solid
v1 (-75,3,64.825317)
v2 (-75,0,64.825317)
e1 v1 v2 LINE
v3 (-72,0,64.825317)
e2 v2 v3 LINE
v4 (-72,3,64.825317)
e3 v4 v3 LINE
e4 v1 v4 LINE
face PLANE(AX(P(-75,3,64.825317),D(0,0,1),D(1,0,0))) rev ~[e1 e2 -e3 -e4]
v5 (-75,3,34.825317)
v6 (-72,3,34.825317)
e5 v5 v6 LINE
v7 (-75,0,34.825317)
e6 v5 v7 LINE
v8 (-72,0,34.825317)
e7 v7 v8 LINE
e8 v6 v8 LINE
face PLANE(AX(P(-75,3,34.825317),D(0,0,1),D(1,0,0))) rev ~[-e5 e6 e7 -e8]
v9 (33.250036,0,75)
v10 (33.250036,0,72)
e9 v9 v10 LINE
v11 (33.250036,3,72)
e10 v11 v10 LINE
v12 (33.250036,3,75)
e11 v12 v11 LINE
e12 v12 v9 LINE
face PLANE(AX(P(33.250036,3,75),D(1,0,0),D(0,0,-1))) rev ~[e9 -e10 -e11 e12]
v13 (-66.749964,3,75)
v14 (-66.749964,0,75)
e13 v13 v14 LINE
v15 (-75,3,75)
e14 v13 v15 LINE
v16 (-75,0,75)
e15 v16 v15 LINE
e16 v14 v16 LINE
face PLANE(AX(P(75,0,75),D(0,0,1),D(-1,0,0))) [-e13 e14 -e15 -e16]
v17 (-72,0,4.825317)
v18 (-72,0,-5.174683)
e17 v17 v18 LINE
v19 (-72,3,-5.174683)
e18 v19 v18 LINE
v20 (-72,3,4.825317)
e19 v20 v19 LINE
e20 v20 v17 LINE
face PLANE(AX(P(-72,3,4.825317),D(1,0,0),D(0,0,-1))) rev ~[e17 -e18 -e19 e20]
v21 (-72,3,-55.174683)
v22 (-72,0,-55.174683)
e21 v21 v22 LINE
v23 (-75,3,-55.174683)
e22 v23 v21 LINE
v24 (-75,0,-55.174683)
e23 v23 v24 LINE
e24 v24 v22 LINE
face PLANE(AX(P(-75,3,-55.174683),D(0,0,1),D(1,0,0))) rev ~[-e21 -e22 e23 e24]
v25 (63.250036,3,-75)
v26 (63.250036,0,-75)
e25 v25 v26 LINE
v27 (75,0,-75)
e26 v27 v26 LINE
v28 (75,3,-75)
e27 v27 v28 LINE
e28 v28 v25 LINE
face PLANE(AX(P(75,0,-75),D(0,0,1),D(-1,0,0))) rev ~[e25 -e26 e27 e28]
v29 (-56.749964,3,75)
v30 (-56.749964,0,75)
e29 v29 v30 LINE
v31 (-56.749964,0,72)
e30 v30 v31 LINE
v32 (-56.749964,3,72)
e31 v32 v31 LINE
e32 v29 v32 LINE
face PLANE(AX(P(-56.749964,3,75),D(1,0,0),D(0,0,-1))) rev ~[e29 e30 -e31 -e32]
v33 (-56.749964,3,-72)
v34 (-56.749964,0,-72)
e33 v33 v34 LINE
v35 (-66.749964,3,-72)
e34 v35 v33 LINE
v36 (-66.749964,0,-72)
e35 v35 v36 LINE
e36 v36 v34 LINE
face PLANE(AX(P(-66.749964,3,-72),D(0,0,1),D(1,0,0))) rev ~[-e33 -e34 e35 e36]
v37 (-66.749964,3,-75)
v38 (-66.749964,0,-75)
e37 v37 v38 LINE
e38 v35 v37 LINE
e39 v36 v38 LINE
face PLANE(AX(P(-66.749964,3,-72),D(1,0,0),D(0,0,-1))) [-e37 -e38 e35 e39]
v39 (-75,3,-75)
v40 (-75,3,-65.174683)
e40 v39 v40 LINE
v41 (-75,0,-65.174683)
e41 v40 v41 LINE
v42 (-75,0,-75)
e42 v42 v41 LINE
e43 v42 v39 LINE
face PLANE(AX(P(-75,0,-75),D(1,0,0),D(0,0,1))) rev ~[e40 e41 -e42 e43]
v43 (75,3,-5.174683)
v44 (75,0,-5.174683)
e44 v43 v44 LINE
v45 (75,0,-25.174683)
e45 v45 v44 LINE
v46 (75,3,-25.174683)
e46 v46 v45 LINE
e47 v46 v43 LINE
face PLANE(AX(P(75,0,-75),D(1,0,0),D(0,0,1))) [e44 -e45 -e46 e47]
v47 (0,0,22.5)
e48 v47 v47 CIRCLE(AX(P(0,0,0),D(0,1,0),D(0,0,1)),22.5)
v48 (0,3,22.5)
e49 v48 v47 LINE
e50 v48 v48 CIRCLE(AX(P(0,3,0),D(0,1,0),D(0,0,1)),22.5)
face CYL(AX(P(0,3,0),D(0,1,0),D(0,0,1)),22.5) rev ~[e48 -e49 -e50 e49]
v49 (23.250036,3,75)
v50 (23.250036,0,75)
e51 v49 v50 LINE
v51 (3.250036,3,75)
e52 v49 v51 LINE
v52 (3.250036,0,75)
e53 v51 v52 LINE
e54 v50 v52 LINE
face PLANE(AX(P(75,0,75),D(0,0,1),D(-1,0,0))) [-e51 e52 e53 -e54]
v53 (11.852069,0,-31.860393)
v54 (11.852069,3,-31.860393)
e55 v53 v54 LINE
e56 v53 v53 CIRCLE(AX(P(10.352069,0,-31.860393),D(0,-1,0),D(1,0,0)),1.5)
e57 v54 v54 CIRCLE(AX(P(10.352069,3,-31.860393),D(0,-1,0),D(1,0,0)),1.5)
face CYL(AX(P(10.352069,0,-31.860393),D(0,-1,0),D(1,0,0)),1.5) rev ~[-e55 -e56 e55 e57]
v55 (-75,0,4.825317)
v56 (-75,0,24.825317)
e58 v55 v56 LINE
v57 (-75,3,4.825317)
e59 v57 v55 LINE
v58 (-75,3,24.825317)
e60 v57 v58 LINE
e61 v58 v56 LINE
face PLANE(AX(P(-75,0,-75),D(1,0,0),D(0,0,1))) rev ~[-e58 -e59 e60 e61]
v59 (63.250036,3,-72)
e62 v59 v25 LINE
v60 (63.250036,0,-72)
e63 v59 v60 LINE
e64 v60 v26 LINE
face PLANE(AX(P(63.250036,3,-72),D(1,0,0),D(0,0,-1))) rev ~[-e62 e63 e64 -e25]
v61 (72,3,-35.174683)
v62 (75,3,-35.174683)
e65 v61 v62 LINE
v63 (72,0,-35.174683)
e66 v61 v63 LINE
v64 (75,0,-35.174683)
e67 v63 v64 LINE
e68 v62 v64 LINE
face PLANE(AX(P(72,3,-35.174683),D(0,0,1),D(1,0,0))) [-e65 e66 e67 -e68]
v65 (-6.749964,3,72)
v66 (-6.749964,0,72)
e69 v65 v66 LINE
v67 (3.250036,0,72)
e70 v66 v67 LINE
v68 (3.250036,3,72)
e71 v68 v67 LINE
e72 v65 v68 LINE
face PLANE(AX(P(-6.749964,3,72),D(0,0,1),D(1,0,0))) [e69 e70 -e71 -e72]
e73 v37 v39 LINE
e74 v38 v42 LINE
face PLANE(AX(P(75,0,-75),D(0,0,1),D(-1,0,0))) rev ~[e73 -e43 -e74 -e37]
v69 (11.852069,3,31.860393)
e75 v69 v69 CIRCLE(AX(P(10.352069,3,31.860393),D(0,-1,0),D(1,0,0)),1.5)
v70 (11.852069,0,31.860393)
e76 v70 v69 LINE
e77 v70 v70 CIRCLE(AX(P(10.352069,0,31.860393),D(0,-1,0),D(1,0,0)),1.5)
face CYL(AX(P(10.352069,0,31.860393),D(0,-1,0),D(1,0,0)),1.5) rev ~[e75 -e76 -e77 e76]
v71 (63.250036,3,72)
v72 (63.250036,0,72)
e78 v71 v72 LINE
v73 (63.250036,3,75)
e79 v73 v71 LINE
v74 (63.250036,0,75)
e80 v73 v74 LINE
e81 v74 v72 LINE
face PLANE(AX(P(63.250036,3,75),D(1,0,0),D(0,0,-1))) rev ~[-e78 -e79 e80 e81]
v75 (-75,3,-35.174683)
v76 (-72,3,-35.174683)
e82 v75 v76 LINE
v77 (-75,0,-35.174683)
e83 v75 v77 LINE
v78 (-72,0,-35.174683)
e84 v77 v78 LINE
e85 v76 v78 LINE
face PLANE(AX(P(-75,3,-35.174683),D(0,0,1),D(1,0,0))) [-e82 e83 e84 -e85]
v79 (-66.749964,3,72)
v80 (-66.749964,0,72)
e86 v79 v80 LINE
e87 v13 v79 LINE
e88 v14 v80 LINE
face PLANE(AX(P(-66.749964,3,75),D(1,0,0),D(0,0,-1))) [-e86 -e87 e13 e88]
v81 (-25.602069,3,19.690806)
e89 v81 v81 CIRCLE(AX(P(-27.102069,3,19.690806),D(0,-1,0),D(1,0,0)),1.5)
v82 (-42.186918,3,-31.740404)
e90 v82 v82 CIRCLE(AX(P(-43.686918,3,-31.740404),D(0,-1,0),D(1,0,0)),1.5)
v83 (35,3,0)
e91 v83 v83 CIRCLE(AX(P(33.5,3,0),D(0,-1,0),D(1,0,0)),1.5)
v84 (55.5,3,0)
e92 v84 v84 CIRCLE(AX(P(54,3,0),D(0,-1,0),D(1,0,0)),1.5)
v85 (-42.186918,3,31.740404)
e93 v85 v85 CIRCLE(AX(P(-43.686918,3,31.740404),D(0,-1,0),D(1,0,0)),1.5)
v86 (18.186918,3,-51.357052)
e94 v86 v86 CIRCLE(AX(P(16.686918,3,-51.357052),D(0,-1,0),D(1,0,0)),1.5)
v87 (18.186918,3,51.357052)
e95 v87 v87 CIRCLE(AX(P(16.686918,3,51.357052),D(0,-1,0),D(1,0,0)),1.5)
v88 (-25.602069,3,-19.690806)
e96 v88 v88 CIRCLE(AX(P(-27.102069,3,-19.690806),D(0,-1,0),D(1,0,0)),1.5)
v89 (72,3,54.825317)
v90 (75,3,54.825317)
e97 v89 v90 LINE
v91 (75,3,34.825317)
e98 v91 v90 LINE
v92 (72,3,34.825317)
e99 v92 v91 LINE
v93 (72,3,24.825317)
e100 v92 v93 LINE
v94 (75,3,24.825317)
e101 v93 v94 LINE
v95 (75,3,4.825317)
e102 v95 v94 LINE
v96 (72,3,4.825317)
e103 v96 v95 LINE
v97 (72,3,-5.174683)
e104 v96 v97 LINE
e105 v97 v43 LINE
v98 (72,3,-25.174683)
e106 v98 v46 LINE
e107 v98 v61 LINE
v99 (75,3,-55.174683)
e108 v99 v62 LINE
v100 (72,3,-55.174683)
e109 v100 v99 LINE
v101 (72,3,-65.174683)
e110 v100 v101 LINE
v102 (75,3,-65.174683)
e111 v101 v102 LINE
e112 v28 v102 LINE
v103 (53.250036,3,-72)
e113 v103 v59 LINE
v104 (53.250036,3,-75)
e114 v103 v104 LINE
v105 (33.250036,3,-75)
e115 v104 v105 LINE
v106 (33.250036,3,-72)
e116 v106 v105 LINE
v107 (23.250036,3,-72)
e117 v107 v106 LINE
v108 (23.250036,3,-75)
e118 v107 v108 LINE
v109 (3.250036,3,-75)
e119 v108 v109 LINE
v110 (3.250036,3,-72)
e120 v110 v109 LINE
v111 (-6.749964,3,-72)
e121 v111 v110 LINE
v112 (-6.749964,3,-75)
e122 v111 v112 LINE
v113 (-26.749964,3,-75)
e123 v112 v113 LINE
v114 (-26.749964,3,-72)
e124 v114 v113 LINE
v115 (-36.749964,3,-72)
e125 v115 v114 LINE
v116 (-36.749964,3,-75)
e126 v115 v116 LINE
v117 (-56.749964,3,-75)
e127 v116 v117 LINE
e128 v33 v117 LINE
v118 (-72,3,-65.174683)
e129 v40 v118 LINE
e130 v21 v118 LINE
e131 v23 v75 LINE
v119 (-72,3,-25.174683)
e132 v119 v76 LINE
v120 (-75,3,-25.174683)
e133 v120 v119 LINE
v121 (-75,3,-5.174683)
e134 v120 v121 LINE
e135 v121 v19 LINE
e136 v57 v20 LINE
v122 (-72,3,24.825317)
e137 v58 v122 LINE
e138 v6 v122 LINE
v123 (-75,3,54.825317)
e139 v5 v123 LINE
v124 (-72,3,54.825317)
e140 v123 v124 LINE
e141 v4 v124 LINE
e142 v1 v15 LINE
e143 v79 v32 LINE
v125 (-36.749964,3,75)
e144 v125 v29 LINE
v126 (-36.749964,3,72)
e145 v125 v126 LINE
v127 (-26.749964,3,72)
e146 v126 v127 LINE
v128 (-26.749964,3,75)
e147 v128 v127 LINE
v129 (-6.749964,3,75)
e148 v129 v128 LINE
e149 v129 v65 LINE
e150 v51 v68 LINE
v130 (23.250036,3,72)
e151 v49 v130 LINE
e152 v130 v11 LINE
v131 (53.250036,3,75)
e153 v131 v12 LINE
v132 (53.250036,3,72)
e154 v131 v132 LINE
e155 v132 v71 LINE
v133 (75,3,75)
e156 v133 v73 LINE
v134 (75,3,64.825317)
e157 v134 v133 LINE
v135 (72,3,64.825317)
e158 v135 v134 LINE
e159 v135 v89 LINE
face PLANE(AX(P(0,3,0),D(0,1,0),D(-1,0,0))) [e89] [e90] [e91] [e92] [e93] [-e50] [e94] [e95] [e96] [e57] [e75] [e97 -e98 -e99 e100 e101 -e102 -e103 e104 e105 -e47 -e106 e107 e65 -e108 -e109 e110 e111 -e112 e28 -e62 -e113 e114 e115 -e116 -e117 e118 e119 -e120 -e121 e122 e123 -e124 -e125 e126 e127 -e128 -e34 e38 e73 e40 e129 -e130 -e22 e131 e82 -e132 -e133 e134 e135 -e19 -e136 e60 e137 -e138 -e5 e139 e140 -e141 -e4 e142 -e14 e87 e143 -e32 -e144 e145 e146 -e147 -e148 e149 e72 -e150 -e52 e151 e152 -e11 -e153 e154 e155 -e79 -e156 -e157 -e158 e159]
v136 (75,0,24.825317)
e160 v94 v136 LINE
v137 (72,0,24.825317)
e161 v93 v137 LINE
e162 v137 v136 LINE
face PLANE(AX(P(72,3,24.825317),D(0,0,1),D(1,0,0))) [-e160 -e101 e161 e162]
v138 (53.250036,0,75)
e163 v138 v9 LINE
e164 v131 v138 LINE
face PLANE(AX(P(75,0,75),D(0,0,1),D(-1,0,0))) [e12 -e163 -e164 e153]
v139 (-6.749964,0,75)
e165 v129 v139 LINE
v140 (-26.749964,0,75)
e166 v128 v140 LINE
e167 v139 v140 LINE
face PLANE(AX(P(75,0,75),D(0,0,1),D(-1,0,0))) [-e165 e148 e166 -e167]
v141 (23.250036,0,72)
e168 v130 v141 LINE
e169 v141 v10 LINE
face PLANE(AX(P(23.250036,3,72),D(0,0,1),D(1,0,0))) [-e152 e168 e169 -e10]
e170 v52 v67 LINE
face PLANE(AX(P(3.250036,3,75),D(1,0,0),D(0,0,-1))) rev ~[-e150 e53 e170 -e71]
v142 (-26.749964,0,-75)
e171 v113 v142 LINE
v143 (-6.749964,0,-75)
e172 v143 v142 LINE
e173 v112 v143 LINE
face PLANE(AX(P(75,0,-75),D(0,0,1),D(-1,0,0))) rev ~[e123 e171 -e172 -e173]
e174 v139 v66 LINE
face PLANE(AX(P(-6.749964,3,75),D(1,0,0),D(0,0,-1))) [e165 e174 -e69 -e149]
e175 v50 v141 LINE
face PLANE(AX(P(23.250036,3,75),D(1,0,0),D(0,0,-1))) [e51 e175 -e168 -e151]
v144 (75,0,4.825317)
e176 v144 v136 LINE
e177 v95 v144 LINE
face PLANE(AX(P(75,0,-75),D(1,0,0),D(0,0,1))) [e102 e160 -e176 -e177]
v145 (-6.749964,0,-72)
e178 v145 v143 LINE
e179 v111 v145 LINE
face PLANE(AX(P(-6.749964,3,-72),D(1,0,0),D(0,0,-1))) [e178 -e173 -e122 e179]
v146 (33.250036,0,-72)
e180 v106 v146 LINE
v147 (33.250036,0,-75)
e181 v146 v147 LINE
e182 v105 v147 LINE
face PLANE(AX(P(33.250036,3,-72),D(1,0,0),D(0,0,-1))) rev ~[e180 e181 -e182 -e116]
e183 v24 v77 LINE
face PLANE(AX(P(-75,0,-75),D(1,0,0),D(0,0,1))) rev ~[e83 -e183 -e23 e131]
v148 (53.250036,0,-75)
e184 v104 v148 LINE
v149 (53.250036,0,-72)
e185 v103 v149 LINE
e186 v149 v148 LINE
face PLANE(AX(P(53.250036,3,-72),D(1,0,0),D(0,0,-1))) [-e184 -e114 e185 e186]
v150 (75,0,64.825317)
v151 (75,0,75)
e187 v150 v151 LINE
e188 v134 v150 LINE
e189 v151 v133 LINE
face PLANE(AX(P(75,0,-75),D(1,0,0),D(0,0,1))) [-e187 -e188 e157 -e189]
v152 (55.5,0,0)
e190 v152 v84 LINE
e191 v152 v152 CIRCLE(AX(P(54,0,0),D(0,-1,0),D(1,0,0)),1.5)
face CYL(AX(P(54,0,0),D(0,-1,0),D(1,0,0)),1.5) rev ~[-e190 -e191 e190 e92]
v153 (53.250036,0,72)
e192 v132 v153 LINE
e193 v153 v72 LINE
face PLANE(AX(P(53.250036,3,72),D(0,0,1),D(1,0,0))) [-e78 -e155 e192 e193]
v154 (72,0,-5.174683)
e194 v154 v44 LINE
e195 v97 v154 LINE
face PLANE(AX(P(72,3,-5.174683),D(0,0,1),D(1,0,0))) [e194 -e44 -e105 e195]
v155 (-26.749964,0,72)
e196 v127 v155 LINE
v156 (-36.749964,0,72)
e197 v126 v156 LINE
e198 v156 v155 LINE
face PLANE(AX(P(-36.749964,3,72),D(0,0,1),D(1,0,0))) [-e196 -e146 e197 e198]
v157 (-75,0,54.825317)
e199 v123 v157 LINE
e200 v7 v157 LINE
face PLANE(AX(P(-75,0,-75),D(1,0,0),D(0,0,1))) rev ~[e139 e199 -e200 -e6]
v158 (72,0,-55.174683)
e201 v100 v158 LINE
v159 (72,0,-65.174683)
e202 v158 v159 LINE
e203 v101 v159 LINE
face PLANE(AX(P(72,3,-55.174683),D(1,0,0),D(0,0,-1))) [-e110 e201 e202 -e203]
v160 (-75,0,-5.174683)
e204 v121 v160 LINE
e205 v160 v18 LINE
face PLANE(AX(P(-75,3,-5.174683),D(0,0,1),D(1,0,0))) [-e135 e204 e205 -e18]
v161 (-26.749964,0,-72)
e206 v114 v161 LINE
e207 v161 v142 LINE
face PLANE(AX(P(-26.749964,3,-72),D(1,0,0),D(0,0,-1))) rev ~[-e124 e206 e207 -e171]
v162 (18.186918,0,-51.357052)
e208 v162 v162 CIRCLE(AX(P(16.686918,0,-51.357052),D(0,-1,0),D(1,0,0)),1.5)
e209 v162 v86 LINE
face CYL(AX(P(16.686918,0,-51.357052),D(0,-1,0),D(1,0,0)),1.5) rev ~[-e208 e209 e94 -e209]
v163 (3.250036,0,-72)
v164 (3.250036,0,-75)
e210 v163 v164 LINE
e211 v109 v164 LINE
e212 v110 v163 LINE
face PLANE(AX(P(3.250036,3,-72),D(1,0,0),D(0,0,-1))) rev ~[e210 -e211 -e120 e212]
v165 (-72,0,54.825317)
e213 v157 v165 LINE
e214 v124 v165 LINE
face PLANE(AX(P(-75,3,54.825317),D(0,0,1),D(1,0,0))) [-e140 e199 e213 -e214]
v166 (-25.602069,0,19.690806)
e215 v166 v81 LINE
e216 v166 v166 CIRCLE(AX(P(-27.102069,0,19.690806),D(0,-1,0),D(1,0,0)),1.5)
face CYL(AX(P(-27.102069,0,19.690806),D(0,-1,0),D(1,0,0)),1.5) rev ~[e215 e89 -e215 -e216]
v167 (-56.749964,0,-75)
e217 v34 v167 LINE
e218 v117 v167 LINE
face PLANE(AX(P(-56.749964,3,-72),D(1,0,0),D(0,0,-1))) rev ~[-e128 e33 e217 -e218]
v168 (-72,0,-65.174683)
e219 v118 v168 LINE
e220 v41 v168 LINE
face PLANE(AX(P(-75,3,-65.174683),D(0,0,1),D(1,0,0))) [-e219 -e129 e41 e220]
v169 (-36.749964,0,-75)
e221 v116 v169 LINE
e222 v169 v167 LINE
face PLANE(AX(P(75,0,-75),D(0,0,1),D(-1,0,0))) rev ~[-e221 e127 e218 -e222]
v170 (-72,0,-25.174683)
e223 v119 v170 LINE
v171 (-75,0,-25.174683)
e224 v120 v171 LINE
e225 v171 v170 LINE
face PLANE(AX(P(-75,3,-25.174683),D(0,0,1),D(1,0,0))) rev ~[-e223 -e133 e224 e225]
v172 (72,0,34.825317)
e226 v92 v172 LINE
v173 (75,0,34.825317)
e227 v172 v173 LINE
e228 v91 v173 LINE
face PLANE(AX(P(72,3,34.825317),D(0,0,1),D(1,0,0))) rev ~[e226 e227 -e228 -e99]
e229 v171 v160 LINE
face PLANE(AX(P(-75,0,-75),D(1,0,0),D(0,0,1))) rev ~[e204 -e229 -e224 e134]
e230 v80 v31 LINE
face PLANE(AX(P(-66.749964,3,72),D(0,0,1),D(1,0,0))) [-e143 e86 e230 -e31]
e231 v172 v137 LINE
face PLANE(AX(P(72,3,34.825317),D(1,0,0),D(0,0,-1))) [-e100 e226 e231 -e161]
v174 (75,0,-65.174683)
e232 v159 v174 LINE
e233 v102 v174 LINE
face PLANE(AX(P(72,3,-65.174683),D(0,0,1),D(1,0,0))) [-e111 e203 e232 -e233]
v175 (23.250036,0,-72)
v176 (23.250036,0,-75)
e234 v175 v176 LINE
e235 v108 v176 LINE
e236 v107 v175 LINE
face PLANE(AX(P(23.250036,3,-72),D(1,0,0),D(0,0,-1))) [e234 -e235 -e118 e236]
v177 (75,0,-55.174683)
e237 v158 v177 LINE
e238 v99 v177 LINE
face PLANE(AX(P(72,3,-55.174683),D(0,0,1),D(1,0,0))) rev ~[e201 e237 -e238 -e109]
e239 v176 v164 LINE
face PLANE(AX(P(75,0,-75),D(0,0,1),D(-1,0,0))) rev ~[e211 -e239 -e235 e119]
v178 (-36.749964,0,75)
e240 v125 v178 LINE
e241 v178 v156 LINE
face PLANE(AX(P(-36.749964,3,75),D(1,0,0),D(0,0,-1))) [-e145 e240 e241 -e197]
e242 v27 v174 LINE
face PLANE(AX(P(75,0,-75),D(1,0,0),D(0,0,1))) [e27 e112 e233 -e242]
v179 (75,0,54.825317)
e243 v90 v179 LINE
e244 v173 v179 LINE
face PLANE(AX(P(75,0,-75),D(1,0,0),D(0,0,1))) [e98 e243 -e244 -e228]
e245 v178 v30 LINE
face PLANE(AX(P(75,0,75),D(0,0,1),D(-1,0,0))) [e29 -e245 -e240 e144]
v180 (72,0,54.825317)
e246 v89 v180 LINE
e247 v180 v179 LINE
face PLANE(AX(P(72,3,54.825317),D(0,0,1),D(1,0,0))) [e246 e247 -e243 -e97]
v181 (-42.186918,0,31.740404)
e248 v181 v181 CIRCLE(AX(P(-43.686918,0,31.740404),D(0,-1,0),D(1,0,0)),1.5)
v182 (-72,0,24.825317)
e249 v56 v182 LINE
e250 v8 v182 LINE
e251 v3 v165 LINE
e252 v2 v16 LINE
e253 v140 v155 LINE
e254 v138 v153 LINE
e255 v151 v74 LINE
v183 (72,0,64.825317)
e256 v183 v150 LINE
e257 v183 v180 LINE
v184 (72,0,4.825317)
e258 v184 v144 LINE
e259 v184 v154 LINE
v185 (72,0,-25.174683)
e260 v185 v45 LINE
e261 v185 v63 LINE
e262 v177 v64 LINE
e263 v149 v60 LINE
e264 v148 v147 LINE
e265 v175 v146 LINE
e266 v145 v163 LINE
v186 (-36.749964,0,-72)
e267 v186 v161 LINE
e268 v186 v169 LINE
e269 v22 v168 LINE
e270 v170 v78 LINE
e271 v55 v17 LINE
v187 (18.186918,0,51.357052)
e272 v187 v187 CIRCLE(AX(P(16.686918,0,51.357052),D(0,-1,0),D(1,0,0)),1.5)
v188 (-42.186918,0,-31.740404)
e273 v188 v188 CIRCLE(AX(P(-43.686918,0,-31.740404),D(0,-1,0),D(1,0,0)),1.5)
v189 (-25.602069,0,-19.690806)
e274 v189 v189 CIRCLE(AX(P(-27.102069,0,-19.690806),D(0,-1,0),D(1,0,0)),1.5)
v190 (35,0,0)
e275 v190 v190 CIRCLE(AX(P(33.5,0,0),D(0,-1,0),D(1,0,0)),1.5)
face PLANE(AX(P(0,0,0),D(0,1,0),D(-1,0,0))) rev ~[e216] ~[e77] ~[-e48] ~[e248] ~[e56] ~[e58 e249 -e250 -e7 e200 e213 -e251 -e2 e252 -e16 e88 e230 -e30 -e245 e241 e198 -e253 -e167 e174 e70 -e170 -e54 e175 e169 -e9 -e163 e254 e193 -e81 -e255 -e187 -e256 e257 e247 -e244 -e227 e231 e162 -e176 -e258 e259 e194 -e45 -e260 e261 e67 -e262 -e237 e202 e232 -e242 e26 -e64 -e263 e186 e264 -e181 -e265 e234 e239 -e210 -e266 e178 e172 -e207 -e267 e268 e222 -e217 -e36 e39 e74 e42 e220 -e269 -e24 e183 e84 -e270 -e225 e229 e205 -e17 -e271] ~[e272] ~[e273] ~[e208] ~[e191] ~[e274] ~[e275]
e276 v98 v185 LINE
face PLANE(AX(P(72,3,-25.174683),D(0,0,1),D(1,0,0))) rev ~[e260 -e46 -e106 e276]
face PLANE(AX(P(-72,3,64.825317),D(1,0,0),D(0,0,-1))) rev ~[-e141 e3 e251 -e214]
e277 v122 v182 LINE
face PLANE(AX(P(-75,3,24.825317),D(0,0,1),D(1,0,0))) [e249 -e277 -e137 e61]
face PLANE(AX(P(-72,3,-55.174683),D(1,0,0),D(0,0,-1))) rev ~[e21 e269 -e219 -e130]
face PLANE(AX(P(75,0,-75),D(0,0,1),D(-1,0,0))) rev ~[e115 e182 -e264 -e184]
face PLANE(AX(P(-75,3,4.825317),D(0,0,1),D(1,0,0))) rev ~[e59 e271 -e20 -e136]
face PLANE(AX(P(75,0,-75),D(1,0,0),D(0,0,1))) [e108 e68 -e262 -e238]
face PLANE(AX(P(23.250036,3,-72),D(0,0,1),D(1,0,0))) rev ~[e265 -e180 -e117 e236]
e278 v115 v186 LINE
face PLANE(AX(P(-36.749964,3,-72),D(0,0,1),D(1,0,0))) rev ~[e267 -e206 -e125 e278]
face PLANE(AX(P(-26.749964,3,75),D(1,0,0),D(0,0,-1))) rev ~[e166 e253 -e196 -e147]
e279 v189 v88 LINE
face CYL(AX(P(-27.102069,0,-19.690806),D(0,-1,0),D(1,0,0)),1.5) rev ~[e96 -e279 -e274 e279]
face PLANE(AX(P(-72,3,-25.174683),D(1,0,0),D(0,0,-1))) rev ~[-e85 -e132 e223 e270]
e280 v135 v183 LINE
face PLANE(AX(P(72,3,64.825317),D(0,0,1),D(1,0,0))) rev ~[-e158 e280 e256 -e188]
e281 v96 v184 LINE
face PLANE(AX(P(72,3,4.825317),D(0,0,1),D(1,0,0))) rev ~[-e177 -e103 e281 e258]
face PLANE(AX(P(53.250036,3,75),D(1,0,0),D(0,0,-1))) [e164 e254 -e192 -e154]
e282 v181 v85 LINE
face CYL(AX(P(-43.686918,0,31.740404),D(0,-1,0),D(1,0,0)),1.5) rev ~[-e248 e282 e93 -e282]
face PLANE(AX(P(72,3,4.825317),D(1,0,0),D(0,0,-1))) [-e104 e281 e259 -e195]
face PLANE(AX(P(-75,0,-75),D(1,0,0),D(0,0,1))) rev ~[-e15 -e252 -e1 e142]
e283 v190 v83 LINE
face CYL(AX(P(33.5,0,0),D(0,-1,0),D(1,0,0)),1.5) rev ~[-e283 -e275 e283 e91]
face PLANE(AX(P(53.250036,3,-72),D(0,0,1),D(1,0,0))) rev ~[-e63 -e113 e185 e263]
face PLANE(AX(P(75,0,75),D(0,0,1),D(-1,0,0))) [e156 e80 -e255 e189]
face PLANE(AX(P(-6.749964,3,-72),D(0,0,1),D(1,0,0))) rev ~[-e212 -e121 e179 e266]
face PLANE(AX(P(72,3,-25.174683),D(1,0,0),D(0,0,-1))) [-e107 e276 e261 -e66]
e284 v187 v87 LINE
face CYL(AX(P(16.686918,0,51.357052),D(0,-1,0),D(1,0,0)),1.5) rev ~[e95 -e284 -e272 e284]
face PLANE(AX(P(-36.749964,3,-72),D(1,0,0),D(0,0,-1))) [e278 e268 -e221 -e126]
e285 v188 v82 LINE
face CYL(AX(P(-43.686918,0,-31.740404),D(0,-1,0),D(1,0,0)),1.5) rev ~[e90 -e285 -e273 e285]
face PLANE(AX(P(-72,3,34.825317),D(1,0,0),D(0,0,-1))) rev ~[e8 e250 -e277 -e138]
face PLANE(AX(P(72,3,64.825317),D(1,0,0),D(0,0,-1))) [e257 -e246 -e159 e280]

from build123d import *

# Parameters (mm, degrees)
SKETCH1_W           = 150
SKETCH1_H           = 150
BOSS_EXTRUDE1_DEPTH = 3
SKETCH2_R           = 22.5
CUT_EXTRUDE1_DEPTH  = 3
SKETCH3_W           = 10
SKETCH3_H           = 3
CUT_EXTRUDE2_DEPTH  = 3
LPATTERN1_COUNT     = 5
LPATTERN1_PITCH     = 30
SKETCH4_W           = 3
SKETCH4_H           = 10
CUT_EXTRUDE3_DEPTH  = 3
LPATTERN2_COUNT     = 5
LPATTERN2_PITCH     = 30
SKETCH5_R           = 1.5
CUT_EXTRUDE4_DEPTH  = 10


with BuildPart() as part:
    # Sketch1 → Boss-Extrude1 (new body)
    with BuildSketch(Plane(origin=(0, 0, 0), x_dir=(-1, 0, 0), z_dir=(0, 1, 0))):
        Rectangle(SKETCH1_W, SKETCH1_H)
    extrude(amount=BOSS_EXTRUDE1_DEPTH)

    # Sketch2 → Cut-Extrude1 (cut)
    with BuildSketch(Plane(origin=(0, 3, 0), x_dir=(1, 0, 0), z_dir=(0, 1, 0))):
        with Locations(Location((0, 0, 0), (0, 0, 270))):
            Circle(SKETCH2_R)
    extrude(amount=-CUT_EXTRUDE1_DEPTH, mode=Mode.SUBTRACT)

    # Sketch3 → Cut-Extrude2 (cut)
    with BuildSketch(Plane(origin=(0, 3, 0), x_dir=(1, 0, 0), z_dir=(0, 1, 0))):
        with Locations((-61.749963879, 73.5)):
            Rectangle(SKETCH3_W, SKETCH3_H)
        with Locations((-61.749963879, -73.5)):
            Rectangle(SKETCH3_W, SKETCH3_H)
    cut_extrude2 = extrude(amount=-CUT_EXTRUDE2_DEPTH, mode=Mode.SUBTRACT)

    # LPattern1: Cut-Extrude2 ×5
    with Locations(*[(i * LPATTERN1_PITCH, 0, 0) for i in range(1, LPATTERN1_COUNT)]):
        add(cut_extrude2, mode=Mode.SUBTRACT)

    # Sketch4 → Cut-Extrude3 (cut)
    with BuildSketch(Plane(origin=(0, 3, 0), x_dir=(1, 0, 0), z_dir=(0, 1, 0))):
        with Locations((-73.5, -59.825317059)):
            Rectangle(SKETCH4_W, SKETCH4_H)
        with Locations((73.5, -59.825317059)):
            Rectangle(SKETCH4_W, SKETCH4_H)
    cut_extrude3 = extrude(amount=-CUT_EXTRUDE3_DEPTH, mode=Mode.SUBTRACT)

    # LPattern2: Cut-Extrude3 ×5
    with Locations(*[(0, 0, -i * LPATTERN2_PITCH) for i in range(1, LPATTERN2_COUNT)]):
        add(cut_extrude3, mode=Mode.SUBTRACT)

    # Sketch5 → Cut-Extrude4 (cut)
    with BuildSketch(Plane(origin=(0, 0, 0), x_dir=(-1, 0, 0), z_dir=(0, -1, 0))):
        with Locations(Location((-33.5, 0, 0), (0, 0, 180))):
            Circle(SKETCH5_R)
        with Locations(Location((-10.352069312, 31.860393296, 0), (0, 0, 180))):
            Circle(SKETCH5_R)
        with Locations(Location((27.102069312, 19.690805952, 0), (0, 0, 180))):
            Circle(SKETCH5_R)
        with Locations(Location((27.102069312, -19.690805952, 0), (0, 0, 180))):
            Circle(SKETCH5_R)
        with Locations(Location((-10.352069312, -31.860393296, 0), (0, 0, 180))):
            Circle(SKETCH5_R)
        with Locations(Location((-54, 0, 0), (0, 0, 180))):
            Circle(SKETCH5_R)
        with Locations(Location((-16.686917696, 51.35705188, 0), (0, 0, 180))):
            Circle(SKETCH5_R)
        with Locations(Location((43.686917696, 31.740403624, 0), (0, 0, 180))):
            Circle(SKETCH5_R)
        with Locations(Location((43.686917696, -31.740403624, 0), (0, 0, 180))):
            Circle(SKETCH5_R)
        with Locations(Location((-16.686917696, -51.35705188, 0), (0, 0, 180))):
            Circle(SKETCH5_R)
    extrude(amount=-CUT_EXTRUDE4_DEPTH, mode=Mode.SUBTRACT)


solid = part.part
